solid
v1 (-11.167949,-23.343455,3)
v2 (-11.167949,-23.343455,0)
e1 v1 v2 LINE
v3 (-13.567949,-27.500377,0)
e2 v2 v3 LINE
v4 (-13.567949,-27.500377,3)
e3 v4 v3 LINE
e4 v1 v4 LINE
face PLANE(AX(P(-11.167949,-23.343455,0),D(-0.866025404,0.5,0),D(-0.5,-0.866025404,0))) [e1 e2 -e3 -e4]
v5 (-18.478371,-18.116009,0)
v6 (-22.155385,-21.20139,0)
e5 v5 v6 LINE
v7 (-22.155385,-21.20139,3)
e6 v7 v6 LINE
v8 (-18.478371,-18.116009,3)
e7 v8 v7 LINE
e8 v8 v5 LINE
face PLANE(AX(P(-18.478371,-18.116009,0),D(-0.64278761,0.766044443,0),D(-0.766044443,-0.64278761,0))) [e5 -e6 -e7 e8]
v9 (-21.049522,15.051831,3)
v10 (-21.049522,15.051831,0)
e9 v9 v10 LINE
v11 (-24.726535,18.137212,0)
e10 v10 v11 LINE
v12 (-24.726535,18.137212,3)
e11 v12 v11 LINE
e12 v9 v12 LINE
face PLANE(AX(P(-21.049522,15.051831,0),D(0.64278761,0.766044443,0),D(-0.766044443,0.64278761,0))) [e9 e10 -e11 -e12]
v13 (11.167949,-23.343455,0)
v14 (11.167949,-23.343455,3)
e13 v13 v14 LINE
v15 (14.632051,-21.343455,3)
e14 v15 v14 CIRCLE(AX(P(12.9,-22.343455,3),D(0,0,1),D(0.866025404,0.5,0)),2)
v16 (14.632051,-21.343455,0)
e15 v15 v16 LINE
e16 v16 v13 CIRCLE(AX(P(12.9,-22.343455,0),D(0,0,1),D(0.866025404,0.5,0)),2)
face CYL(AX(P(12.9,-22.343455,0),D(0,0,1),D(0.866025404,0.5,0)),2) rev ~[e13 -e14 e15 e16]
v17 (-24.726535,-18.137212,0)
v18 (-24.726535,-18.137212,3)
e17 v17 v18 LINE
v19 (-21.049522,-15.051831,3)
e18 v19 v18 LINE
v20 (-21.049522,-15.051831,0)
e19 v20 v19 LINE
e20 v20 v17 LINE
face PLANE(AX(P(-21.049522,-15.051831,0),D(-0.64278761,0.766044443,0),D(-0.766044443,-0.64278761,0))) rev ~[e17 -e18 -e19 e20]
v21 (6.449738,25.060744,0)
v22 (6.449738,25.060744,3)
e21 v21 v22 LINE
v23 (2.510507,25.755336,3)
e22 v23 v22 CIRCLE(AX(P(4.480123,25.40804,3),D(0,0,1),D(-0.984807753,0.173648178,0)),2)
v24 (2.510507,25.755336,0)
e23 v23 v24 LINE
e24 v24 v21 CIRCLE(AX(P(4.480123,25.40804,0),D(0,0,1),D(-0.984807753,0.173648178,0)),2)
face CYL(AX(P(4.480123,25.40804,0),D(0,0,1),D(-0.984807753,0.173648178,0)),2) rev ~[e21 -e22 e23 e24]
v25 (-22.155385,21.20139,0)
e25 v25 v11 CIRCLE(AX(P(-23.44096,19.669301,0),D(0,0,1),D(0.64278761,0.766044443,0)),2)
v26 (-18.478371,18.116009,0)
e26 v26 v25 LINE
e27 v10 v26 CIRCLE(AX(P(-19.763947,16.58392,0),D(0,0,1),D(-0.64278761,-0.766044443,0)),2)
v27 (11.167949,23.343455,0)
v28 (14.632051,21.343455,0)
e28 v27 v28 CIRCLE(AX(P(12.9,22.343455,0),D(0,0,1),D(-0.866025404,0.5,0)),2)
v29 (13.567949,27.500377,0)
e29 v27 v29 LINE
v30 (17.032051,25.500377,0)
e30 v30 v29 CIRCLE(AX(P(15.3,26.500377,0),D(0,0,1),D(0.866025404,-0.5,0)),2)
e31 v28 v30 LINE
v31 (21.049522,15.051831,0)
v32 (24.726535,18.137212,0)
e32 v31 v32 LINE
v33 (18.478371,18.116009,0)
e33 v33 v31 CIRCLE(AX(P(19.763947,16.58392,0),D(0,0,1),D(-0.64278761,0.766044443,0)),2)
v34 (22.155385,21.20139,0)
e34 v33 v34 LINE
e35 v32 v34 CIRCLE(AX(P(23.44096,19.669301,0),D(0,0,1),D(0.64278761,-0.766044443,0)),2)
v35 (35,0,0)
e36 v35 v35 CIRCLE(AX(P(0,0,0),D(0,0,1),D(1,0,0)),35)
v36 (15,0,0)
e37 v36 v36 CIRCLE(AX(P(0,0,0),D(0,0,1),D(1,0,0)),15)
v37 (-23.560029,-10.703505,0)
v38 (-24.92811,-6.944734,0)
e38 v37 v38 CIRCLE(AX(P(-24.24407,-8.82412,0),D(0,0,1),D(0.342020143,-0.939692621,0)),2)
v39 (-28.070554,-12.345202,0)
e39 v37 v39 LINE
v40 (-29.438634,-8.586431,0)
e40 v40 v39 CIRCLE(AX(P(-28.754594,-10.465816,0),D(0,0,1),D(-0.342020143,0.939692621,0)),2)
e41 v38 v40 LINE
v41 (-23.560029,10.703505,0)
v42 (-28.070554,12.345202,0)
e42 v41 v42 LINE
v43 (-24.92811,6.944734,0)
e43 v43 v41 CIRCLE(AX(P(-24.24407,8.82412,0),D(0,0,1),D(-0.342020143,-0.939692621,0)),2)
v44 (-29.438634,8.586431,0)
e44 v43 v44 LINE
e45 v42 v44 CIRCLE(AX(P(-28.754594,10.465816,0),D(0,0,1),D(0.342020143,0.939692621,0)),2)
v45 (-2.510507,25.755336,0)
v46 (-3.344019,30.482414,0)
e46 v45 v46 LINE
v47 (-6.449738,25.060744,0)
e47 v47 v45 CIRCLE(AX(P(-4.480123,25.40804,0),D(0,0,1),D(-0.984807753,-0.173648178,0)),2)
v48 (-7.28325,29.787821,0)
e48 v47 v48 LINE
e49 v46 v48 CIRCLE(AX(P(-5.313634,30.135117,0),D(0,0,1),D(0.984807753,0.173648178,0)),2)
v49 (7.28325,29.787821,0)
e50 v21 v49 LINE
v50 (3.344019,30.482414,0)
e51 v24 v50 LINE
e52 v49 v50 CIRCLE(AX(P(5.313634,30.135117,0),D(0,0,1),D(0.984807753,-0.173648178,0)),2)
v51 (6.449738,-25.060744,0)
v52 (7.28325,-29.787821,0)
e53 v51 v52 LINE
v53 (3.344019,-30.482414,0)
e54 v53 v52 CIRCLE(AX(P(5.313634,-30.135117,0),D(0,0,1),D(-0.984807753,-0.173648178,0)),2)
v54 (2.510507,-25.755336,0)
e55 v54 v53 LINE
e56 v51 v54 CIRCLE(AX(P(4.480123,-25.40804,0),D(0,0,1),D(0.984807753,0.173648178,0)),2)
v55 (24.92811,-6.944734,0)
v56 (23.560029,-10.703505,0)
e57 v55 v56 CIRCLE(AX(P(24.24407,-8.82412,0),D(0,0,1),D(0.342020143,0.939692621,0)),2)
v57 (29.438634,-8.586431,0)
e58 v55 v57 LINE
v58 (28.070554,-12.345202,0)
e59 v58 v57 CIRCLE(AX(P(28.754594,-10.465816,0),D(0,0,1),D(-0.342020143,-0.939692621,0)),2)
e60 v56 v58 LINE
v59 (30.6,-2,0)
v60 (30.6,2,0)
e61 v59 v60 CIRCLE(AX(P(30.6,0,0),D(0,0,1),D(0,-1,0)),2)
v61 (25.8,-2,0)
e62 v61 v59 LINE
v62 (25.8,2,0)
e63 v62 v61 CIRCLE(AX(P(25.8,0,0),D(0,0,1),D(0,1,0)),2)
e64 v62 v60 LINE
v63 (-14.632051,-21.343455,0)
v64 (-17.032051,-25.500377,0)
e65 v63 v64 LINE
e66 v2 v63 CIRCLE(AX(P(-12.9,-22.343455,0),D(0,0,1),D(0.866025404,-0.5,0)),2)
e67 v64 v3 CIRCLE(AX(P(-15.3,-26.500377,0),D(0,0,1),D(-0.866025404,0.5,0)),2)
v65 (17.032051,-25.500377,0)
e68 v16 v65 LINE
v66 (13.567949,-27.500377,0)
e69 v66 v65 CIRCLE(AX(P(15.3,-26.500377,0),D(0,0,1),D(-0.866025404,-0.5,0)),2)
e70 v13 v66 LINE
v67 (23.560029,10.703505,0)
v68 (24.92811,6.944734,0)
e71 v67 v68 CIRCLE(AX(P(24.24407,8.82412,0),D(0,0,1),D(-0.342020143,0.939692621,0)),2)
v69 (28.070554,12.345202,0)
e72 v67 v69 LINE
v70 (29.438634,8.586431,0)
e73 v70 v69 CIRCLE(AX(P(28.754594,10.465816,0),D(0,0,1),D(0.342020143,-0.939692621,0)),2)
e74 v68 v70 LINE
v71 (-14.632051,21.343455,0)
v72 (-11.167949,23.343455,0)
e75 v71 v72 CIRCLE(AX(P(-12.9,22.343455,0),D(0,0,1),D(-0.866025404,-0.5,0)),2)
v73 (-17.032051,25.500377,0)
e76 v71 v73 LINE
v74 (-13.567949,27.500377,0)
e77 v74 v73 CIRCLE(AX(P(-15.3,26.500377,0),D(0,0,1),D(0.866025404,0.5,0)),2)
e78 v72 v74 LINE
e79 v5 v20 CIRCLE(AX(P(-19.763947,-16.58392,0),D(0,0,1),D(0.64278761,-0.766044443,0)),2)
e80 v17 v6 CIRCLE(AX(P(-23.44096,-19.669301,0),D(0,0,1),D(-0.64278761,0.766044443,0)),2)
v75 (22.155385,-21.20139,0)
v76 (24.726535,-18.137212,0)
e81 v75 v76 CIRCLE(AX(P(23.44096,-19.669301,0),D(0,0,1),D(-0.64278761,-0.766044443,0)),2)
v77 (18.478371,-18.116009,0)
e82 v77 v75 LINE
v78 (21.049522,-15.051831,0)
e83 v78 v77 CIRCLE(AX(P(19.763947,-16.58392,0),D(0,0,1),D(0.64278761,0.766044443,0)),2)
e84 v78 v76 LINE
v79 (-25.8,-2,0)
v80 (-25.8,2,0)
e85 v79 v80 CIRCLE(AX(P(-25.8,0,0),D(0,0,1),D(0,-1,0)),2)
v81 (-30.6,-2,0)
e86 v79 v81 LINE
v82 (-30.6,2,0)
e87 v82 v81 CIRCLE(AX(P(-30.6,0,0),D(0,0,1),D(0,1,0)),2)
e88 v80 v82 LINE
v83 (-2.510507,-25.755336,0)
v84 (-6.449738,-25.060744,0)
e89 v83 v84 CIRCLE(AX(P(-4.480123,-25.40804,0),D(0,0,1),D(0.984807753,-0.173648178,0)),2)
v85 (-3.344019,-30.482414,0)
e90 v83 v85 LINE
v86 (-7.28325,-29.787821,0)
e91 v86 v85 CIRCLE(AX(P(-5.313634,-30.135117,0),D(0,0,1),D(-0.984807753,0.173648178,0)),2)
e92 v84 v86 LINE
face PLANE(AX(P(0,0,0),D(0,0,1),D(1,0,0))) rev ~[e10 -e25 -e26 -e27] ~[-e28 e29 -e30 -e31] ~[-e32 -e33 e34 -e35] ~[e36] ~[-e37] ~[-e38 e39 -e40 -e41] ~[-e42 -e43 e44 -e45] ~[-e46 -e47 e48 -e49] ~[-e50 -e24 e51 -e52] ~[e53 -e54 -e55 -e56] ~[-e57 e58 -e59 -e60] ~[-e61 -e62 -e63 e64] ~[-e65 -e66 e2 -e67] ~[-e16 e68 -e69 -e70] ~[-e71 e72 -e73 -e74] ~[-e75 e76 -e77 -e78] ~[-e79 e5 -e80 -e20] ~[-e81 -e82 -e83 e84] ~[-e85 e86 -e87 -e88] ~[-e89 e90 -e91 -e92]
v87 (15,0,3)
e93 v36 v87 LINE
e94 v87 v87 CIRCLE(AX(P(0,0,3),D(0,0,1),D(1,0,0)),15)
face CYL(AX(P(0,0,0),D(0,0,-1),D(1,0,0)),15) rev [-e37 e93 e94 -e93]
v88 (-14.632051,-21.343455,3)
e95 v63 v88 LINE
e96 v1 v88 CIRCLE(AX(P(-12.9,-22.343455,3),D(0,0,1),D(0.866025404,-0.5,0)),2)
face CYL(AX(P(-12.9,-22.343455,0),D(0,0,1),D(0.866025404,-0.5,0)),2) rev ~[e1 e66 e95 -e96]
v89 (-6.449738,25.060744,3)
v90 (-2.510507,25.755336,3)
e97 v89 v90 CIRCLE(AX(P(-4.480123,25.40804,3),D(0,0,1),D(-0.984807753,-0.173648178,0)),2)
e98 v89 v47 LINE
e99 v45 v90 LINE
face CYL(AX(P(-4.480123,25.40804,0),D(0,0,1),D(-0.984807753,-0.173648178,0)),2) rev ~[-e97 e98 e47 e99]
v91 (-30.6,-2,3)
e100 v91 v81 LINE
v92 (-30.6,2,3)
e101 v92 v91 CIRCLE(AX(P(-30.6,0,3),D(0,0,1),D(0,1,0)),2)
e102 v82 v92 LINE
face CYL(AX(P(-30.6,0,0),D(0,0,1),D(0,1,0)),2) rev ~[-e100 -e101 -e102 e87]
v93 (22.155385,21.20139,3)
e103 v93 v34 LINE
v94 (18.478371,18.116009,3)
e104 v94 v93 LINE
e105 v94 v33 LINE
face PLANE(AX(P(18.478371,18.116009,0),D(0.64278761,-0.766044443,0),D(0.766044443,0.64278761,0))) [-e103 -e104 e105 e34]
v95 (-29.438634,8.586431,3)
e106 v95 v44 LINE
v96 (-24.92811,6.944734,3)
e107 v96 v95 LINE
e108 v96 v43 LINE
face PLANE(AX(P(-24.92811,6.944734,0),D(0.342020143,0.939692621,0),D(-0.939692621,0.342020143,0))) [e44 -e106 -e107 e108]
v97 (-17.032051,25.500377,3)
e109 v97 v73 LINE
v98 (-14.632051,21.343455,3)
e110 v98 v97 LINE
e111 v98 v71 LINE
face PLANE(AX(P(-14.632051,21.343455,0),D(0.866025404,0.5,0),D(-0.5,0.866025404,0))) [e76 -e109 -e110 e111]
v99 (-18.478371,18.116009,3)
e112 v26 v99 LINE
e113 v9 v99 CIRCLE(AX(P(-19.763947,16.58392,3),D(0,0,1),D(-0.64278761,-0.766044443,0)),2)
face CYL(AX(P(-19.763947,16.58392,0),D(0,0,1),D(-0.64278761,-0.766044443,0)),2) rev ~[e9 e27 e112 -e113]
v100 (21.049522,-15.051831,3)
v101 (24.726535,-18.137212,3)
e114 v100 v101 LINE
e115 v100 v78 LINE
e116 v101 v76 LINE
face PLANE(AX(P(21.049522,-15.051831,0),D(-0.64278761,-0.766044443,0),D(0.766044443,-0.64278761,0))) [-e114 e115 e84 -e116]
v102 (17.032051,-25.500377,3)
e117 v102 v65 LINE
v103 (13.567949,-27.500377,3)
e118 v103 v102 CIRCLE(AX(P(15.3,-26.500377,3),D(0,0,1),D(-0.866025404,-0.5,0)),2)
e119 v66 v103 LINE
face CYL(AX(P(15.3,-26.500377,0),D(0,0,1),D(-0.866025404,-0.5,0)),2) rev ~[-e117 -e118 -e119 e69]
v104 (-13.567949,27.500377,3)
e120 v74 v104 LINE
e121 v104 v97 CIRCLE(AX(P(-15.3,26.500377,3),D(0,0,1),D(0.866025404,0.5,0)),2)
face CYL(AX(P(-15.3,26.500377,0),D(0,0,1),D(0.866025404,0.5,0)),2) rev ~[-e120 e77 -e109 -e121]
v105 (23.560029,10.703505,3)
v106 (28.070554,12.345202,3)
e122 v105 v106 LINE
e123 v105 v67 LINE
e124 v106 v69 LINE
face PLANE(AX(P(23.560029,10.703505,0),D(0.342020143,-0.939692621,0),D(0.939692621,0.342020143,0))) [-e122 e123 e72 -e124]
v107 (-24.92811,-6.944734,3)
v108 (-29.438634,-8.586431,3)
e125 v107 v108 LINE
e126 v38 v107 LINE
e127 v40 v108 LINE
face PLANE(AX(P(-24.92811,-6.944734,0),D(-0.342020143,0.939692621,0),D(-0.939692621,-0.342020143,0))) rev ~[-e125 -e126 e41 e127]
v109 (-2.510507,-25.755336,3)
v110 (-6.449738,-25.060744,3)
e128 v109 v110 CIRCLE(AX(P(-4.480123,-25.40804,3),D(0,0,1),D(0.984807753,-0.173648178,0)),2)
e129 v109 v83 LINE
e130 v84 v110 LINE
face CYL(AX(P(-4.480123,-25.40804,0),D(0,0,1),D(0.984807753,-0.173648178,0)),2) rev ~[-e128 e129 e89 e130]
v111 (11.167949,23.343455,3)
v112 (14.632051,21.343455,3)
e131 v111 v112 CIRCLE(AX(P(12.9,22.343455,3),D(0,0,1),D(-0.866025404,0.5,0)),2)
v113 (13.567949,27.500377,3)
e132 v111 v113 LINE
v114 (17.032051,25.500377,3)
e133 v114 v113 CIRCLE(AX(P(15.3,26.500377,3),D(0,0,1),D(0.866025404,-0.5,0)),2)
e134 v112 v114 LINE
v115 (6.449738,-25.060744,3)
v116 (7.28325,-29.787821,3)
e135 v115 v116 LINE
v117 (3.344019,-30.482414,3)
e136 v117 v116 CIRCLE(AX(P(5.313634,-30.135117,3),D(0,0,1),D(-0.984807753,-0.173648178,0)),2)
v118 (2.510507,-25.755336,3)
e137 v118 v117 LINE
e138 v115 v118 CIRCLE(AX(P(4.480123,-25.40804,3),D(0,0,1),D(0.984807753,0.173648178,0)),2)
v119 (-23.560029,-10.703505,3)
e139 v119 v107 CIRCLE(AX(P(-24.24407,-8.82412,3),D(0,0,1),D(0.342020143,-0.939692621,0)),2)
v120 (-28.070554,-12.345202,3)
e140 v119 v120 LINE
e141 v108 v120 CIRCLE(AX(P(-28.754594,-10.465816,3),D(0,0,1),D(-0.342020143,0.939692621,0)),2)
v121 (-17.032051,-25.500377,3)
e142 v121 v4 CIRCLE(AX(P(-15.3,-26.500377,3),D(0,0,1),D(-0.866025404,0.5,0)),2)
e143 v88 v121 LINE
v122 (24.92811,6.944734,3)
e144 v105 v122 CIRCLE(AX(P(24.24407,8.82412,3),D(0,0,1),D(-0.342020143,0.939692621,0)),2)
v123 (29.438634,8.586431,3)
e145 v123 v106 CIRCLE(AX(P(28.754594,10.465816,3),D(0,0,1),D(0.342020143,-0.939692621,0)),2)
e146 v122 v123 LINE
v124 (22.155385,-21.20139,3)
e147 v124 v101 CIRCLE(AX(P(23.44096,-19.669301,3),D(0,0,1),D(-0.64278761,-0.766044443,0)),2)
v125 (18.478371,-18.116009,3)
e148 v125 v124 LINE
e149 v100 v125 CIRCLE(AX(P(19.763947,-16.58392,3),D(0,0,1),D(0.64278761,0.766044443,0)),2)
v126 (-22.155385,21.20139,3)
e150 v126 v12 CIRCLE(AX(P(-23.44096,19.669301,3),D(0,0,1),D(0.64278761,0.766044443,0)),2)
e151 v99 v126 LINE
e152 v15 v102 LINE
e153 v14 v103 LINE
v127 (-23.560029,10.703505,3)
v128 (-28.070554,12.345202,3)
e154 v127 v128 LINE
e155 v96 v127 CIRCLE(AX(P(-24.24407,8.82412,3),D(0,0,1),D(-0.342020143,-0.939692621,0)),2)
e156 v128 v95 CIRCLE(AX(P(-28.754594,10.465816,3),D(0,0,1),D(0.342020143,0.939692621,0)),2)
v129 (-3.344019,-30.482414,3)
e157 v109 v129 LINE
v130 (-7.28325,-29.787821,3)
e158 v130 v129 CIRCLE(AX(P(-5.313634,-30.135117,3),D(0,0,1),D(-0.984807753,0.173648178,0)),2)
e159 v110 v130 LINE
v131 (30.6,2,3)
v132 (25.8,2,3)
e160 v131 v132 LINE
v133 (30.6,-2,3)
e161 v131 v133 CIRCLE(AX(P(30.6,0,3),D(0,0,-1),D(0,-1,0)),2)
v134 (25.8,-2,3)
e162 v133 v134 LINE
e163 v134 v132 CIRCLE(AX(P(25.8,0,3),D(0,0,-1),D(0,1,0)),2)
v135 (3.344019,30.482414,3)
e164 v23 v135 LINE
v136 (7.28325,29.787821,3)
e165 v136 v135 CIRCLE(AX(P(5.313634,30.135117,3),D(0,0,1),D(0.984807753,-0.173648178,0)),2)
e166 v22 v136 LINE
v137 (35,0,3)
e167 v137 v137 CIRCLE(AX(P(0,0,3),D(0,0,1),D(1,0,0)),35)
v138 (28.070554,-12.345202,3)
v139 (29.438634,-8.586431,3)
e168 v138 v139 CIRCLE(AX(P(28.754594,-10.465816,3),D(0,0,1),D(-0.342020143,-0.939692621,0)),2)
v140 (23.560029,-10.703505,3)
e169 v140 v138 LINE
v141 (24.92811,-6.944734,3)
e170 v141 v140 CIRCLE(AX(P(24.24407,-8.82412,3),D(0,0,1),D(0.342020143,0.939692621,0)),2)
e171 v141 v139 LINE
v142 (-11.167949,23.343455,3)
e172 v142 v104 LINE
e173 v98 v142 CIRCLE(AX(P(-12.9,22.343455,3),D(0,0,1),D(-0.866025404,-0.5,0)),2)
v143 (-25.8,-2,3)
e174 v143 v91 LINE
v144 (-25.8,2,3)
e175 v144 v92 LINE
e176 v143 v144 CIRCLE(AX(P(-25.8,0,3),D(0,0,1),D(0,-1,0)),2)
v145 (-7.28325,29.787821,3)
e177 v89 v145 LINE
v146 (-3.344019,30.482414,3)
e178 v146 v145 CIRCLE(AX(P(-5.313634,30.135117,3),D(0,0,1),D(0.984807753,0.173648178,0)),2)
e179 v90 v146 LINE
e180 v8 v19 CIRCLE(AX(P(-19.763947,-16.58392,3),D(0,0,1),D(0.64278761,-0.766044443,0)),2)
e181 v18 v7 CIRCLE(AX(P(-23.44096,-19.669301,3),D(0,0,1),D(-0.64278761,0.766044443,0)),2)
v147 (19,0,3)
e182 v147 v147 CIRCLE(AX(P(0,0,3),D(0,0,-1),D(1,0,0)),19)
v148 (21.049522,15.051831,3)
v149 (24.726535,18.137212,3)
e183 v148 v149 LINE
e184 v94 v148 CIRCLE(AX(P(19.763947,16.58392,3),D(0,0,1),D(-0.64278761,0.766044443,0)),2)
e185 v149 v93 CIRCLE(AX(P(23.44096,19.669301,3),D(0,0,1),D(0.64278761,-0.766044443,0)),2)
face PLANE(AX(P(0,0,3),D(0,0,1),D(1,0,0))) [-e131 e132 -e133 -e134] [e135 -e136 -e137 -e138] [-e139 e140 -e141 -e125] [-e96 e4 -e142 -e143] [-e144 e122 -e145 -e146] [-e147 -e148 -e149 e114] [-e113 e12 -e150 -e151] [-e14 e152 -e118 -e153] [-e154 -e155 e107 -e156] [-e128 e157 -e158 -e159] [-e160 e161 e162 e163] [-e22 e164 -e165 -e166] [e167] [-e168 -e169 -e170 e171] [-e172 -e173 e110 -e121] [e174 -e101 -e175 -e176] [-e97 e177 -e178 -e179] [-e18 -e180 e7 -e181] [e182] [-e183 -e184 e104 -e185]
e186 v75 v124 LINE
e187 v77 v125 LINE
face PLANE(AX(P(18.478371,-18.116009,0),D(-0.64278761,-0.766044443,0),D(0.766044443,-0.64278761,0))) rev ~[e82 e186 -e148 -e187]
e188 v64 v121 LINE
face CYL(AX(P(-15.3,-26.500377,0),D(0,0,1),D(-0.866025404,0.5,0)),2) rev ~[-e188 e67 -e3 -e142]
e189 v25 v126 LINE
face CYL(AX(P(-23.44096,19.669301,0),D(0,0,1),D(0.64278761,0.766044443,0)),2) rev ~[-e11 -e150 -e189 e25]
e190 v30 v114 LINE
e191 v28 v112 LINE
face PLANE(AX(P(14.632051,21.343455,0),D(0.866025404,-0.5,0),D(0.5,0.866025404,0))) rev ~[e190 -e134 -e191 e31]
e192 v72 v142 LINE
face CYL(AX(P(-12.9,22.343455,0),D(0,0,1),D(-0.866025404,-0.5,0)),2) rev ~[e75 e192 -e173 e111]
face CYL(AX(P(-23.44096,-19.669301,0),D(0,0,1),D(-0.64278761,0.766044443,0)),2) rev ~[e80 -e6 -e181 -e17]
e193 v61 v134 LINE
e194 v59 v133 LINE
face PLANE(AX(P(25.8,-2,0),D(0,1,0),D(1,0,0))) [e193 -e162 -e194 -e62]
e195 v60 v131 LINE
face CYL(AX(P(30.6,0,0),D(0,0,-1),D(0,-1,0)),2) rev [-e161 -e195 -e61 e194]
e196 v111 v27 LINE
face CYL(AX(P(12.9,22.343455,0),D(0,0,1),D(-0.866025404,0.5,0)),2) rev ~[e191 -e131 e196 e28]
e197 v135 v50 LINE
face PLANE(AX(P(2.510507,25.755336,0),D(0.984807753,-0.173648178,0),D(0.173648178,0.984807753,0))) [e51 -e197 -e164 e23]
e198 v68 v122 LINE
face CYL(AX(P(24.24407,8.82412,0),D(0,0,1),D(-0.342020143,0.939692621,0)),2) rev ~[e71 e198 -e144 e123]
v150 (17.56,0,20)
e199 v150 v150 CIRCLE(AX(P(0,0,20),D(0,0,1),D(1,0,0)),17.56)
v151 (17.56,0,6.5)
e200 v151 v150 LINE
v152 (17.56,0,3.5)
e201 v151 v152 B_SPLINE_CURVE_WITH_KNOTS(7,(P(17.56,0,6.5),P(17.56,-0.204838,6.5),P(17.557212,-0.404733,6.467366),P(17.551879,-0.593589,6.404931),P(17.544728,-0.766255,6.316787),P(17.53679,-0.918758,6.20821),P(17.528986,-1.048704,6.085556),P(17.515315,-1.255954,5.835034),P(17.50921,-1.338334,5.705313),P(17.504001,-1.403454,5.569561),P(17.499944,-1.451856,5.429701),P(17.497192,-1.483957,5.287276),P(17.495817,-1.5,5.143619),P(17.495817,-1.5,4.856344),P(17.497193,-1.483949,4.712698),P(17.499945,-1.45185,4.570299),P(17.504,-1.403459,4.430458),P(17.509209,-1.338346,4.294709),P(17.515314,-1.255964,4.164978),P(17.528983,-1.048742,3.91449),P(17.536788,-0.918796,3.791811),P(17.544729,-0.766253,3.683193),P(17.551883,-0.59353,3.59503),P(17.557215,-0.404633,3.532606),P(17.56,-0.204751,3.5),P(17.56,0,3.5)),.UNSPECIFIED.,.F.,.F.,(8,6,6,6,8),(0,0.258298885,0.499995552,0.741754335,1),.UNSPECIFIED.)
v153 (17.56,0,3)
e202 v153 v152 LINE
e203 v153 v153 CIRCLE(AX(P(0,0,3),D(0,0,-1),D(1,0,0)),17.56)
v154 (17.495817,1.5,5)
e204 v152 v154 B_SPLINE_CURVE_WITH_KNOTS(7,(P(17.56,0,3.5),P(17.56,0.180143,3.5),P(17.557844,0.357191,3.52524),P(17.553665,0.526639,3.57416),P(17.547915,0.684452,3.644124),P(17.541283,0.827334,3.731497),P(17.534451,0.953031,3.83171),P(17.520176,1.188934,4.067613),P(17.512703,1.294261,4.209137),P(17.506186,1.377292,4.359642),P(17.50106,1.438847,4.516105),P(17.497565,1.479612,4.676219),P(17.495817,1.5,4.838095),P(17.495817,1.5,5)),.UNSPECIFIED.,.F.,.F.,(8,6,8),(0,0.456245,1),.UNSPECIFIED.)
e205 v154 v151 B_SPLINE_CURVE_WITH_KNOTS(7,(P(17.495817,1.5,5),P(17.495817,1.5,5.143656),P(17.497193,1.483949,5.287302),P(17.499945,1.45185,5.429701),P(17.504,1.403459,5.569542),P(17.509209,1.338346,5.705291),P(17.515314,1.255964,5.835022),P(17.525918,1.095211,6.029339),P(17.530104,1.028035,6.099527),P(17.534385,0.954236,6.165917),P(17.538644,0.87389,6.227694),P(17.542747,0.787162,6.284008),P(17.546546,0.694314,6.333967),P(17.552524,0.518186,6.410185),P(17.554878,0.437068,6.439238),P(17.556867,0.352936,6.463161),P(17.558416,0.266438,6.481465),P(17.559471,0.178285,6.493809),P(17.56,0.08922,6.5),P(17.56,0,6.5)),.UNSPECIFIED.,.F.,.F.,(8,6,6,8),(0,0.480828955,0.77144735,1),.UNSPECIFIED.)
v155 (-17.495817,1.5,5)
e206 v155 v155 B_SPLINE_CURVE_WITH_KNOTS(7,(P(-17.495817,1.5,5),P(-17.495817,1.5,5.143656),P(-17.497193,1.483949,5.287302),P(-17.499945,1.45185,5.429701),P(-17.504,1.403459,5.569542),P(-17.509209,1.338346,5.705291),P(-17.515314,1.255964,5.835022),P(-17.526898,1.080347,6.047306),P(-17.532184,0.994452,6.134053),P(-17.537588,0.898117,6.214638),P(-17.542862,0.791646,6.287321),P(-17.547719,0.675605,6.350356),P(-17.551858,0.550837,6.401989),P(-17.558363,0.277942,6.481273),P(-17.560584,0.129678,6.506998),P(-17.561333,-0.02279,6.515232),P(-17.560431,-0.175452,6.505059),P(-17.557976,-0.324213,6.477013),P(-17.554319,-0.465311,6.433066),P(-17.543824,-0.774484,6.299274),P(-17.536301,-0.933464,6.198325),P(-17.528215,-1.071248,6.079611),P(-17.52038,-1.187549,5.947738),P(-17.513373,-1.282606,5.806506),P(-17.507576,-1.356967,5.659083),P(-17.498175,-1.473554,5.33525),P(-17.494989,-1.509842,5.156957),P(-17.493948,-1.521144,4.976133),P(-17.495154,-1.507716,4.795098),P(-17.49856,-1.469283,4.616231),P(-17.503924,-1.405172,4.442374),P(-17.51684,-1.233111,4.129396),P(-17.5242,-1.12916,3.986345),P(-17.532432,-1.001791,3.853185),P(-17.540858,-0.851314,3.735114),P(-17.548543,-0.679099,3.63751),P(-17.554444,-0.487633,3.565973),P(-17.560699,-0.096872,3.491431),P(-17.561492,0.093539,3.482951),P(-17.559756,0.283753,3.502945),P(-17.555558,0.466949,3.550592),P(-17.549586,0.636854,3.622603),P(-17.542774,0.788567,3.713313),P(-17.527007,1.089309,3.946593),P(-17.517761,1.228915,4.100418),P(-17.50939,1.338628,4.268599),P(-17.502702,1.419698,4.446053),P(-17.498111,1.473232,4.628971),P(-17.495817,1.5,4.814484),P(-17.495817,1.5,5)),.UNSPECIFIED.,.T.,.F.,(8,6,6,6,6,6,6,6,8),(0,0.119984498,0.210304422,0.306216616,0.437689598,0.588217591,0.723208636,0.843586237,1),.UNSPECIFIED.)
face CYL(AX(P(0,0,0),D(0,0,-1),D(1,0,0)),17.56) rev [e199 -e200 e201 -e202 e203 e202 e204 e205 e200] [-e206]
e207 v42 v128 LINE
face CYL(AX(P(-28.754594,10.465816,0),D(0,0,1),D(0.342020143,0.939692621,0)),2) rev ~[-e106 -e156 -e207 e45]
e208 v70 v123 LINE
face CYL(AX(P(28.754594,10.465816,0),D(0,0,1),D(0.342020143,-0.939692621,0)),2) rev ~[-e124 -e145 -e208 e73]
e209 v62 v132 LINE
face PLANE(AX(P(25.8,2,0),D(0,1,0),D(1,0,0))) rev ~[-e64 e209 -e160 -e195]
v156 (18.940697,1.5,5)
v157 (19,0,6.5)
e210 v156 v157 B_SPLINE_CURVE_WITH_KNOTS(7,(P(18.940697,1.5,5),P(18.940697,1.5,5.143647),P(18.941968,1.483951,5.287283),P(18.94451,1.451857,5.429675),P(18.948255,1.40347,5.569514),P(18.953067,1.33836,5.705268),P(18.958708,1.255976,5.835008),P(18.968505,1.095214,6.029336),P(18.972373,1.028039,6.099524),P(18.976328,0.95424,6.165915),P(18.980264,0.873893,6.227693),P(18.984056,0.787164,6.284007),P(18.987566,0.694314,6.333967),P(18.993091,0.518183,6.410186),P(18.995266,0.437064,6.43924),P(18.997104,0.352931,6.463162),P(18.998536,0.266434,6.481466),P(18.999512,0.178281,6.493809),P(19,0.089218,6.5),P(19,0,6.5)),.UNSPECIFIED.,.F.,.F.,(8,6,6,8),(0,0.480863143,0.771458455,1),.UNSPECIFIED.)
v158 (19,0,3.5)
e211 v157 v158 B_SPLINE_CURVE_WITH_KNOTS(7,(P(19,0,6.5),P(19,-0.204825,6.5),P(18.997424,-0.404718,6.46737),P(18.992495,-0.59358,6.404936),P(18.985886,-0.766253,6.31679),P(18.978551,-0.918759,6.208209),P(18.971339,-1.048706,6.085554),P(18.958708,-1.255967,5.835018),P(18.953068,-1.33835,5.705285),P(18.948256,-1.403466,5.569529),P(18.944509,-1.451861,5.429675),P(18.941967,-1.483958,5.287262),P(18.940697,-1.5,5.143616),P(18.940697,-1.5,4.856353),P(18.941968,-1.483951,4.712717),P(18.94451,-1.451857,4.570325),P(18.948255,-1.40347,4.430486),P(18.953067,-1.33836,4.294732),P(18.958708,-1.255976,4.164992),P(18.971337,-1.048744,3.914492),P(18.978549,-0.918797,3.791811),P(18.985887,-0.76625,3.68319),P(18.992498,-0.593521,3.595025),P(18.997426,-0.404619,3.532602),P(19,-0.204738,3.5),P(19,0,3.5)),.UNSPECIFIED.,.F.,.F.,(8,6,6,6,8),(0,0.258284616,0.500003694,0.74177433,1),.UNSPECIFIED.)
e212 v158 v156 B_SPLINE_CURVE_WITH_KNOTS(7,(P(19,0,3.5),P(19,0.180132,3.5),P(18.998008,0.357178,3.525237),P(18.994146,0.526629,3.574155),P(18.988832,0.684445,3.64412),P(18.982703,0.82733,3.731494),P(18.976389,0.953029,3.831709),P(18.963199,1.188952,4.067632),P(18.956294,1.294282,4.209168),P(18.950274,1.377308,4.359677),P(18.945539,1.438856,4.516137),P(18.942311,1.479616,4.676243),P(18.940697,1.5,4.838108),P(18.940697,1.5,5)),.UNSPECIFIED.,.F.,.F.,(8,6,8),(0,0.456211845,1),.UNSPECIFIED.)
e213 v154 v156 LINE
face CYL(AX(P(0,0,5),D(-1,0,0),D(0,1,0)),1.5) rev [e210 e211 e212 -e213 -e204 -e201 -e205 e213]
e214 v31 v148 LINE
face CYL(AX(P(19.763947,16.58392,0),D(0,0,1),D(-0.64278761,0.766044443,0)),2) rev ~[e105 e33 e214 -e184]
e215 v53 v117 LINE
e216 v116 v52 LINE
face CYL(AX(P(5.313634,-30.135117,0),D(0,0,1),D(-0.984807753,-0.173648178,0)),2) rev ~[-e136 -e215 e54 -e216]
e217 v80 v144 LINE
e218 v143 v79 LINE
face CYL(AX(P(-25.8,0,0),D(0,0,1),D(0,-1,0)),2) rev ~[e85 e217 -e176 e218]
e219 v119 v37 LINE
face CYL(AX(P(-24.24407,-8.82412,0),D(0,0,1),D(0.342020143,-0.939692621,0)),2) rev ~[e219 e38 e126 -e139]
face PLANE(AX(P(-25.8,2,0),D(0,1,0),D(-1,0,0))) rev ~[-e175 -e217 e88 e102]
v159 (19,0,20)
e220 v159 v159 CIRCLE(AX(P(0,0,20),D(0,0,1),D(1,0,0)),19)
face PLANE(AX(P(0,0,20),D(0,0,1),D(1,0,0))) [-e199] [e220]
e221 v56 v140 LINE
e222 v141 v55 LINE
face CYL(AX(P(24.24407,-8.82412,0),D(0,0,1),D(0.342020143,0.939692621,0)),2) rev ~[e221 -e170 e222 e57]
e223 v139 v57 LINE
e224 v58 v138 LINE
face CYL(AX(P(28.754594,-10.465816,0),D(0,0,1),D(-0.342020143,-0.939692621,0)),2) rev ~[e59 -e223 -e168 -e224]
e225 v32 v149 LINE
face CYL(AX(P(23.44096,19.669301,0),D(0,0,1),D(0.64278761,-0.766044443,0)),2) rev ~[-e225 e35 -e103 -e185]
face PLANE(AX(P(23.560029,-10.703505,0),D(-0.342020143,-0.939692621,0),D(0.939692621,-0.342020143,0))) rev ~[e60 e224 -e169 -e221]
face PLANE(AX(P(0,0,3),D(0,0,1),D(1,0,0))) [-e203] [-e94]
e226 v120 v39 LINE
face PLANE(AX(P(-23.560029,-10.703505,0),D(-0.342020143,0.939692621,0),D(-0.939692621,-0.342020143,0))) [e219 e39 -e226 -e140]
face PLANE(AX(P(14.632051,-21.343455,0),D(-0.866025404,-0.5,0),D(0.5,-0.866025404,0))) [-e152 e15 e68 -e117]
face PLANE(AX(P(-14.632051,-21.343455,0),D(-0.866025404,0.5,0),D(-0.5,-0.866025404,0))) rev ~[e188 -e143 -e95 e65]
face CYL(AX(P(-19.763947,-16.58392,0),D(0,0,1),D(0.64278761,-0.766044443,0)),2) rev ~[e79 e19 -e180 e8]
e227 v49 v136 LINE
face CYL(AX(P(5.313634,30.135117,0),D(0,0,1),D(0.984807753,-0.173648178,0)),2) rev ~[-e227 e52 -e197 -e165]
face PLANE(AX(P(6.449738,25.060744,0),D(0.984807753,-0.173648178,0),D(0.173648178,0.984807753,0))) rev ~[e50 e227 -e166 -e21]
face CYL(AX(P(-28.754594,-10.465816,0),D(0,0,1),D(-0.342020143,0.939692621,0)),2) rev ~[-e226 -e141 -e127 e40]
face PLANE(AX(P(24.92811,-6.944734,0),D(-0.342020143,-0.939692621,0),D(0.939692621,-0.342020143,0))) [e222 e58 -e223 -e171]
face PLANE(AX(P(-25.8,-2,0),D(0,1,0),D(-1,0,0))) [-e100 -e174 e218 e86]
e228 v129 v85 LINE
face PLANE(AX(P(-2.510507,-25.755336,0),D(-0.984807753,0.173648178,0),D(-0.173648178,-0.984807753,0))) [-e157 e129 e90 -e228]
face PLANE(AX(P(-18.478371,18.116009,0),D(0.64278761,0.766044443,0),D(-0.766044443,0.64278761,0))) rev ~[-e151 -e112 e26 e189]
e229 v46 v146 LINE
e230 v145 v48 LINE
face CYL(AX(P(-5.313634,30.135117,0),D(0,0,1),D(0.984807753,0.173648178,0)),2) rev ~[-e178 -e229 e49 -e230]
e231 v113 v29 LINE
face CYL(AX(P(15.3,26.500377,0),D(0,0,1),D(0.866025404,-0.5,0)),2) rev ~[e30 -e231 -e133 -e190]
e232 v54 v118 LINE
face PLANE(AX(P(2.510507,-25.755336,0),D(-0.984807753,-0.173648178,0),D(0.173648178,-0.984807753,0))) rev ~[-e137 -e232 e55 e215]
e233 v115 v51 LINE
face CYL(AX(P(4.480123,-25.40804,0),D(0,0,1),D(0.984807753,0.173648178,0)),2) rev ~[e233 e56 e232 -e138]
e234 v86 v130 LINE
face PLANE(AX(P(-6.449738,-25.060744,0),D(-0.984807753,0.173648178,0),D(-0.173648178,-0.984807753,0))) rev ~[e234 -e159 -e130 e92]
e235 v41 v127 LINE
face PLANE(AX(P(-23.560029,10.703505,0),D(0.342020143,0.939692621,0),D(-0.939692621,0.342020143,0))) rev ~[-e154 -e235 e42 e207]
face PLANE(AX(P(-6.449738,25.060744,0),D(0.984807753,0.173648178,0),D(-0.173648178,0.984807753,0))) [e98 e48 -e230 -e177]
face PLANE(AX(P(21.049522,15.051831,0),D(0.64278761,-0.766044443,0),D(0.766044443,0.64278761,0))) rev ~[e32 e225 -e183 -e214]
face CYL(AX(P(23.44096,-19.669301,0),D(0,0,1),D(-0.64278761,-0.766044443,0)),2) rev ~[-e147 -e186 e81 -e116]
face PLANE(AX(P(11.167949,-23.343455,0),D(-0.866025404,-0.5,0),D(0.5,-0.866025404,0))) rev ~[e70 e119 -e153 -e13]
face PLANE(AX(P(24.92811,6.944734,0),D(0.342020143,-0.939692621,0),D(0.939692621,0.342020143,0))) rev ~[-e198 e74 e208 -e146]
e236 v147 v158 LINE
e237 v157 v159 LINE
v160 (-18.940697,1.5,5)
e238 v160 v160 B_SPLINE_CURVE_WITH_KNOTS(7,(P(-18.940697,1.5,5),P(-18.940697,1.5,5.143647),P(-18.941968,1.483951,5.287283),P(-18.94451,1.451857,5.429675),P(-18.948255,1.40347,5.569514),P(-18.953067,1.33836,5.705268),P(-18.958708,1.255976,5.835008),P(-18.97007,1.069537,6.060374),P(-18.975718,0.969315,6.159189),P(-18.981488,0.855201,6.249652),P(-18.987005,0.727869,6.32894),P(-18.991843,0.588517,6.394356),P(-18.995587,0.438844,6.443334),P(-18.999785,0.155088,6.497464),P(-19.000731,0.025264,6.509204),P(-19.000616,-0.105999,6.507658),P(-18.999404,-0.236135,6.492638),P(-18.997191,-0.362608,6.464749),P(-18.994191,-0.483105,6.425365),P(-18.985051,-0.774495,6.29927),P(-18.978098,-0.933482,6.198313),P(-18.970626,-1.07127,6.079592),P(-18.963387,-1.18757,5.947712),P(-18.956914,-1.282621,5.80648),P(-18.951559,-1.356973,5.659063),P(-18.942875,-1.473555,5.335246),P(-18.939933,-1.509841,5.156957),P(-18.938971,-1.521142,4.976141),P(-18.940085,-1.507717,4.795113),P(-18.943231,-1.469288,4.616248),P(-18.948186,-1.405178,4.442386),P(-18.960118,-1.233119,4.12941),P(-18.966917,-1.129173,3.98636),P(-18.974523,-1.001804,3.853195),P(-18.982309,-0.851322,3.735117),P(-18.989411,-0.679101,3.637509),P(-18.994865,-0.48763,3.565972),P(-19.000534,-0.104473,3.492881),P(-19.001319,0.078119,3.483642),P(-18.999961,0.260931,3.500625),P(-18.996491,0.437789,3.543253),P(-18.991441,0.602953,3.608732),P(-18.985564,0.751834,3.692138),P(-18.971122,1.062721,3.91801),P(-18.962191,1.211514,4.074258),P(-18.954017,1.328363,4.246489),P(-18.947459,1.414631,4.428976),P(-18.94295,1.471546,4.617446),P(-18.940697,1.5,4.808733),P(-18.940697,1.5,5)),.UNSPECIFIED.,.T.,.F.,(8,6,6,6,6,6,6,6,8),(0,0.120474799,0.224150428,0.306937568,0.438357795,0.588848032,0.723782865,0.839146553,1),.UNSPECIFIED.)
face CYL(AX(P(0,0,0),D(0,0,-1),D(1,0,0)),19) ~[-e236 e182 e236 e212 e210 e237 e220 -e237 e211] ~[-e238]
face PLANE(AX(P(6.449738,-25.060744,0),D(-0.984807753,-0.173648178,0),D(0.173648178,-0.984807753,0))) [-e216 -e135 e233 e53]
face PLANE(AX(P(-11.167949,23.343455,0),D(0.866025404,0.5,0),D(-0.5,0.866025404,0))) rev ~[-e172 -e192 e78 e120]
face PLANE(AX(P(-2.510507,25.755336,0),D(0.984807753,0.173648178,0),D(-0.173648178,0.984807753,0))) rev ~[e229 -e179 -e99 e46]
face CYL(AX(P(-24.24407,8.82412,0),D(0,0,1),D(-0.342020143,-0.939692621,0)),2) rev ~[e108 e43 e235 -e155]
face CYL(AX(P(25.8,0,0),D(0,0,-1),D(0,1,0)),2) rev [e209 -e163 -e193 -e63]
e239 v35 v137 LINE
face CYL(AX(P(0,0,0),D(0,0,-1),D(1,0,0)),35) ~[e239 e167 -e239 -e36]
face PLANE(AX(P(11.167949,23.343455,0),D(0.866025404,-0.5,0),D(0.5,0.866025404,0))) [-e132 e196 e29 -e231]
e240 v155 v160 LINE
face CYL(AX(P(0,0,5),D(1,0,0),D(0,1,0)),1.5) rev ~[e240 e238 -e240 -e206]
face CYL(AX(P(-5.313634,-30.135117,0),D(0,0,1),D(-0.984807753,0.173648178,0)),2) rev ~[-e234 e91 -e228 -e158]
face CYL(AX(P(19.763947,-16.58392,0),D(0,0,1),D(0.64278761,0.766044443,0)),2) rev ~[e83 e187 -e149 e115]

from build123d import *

# Parameters (mm, degrees)
SKETCH_R             = 35
SKETCH_R_2           = 15
PAD_DEPTH            = 3
POCKET_DEPTH         = 198.081792
POCKET_DEPTH_BACK    = 201.081792
POLARPATTERN_COUNT   = 18
SKETCH002_R          = 19
SKETCH002_R_2        = 17.56
PAD001_DEPTH         = 20
SKETCH003_R          = 1.5
POCKET001_DEPTH      = 35.001
POCKET001_DEPTH_BACK = 35.001


with BuildPart() as part:
    # Sketch → Pad (new body)
    with BuildSketch(Plane.XY):
        Circle(SKETCH_R)
        Circle(SKETCH_R_2, mode=Mode.SUBTRACT)
    extrude(amount=PAD_DEPTH)

    # Sketch001 → Pocket (cut, two sides)
    with BuildSketch(Plane.XY) as pocket_sk:
        with BuildLine():
            ThreePointArc((25.8, 2), (23.8, 0), (25.8, -2))
            Line((25.8, -2), (30.6, -2))
            ThreePointArc((30.6, -2), (32.6, 0), (30.6, 2))
            Line((25.8, 2), (30.6, 2))
        make_face()
    pocket = extrude(amount=-POCKET_DEPTH, mode=Mode.SUBTRACT) + extrude(pocket_sk.sketch, amount=POCKET_DEPTH_BACK, mode=Mode.SUBTRACT)

    # PolarPattern: Pocket ×18 about axis
    polarpattern_axis = Axis((0, 0, 0), (0, 0, 1))
    for i in range(1, POLARPATTERN_COUNT):
        add(pocket.rotate(polarpattern_axis, i * 360 / POLARPATTERN_COUNT), mode=Mode.SUBTRACT)

    # Sketch002 → Pad001 (join)
    with BuildSketch(Plane.XY):
        Circle(SKETCH002_R)
        Circle(SKETCH002_R_2, mode=Mode.SUBTRACT)
    extrude(amount=PAD001_DEPTH)

    # Sketch003 → Pocket001 (cut, two sides)
    with BuildSketch(Plane.YZ) as pocket001_sk:
        with Locations((0, 5)):
            Circle(SKETCH003_R)
    extrude(amount=-POCKET001_DEPTH, mode=Mode.SUBTRACT)
    extrude(pocket001_sk.sketch, amount=POCKET001_DEPTH_BACK, mode=Mode.SUBTRACT)


solid = part.part
